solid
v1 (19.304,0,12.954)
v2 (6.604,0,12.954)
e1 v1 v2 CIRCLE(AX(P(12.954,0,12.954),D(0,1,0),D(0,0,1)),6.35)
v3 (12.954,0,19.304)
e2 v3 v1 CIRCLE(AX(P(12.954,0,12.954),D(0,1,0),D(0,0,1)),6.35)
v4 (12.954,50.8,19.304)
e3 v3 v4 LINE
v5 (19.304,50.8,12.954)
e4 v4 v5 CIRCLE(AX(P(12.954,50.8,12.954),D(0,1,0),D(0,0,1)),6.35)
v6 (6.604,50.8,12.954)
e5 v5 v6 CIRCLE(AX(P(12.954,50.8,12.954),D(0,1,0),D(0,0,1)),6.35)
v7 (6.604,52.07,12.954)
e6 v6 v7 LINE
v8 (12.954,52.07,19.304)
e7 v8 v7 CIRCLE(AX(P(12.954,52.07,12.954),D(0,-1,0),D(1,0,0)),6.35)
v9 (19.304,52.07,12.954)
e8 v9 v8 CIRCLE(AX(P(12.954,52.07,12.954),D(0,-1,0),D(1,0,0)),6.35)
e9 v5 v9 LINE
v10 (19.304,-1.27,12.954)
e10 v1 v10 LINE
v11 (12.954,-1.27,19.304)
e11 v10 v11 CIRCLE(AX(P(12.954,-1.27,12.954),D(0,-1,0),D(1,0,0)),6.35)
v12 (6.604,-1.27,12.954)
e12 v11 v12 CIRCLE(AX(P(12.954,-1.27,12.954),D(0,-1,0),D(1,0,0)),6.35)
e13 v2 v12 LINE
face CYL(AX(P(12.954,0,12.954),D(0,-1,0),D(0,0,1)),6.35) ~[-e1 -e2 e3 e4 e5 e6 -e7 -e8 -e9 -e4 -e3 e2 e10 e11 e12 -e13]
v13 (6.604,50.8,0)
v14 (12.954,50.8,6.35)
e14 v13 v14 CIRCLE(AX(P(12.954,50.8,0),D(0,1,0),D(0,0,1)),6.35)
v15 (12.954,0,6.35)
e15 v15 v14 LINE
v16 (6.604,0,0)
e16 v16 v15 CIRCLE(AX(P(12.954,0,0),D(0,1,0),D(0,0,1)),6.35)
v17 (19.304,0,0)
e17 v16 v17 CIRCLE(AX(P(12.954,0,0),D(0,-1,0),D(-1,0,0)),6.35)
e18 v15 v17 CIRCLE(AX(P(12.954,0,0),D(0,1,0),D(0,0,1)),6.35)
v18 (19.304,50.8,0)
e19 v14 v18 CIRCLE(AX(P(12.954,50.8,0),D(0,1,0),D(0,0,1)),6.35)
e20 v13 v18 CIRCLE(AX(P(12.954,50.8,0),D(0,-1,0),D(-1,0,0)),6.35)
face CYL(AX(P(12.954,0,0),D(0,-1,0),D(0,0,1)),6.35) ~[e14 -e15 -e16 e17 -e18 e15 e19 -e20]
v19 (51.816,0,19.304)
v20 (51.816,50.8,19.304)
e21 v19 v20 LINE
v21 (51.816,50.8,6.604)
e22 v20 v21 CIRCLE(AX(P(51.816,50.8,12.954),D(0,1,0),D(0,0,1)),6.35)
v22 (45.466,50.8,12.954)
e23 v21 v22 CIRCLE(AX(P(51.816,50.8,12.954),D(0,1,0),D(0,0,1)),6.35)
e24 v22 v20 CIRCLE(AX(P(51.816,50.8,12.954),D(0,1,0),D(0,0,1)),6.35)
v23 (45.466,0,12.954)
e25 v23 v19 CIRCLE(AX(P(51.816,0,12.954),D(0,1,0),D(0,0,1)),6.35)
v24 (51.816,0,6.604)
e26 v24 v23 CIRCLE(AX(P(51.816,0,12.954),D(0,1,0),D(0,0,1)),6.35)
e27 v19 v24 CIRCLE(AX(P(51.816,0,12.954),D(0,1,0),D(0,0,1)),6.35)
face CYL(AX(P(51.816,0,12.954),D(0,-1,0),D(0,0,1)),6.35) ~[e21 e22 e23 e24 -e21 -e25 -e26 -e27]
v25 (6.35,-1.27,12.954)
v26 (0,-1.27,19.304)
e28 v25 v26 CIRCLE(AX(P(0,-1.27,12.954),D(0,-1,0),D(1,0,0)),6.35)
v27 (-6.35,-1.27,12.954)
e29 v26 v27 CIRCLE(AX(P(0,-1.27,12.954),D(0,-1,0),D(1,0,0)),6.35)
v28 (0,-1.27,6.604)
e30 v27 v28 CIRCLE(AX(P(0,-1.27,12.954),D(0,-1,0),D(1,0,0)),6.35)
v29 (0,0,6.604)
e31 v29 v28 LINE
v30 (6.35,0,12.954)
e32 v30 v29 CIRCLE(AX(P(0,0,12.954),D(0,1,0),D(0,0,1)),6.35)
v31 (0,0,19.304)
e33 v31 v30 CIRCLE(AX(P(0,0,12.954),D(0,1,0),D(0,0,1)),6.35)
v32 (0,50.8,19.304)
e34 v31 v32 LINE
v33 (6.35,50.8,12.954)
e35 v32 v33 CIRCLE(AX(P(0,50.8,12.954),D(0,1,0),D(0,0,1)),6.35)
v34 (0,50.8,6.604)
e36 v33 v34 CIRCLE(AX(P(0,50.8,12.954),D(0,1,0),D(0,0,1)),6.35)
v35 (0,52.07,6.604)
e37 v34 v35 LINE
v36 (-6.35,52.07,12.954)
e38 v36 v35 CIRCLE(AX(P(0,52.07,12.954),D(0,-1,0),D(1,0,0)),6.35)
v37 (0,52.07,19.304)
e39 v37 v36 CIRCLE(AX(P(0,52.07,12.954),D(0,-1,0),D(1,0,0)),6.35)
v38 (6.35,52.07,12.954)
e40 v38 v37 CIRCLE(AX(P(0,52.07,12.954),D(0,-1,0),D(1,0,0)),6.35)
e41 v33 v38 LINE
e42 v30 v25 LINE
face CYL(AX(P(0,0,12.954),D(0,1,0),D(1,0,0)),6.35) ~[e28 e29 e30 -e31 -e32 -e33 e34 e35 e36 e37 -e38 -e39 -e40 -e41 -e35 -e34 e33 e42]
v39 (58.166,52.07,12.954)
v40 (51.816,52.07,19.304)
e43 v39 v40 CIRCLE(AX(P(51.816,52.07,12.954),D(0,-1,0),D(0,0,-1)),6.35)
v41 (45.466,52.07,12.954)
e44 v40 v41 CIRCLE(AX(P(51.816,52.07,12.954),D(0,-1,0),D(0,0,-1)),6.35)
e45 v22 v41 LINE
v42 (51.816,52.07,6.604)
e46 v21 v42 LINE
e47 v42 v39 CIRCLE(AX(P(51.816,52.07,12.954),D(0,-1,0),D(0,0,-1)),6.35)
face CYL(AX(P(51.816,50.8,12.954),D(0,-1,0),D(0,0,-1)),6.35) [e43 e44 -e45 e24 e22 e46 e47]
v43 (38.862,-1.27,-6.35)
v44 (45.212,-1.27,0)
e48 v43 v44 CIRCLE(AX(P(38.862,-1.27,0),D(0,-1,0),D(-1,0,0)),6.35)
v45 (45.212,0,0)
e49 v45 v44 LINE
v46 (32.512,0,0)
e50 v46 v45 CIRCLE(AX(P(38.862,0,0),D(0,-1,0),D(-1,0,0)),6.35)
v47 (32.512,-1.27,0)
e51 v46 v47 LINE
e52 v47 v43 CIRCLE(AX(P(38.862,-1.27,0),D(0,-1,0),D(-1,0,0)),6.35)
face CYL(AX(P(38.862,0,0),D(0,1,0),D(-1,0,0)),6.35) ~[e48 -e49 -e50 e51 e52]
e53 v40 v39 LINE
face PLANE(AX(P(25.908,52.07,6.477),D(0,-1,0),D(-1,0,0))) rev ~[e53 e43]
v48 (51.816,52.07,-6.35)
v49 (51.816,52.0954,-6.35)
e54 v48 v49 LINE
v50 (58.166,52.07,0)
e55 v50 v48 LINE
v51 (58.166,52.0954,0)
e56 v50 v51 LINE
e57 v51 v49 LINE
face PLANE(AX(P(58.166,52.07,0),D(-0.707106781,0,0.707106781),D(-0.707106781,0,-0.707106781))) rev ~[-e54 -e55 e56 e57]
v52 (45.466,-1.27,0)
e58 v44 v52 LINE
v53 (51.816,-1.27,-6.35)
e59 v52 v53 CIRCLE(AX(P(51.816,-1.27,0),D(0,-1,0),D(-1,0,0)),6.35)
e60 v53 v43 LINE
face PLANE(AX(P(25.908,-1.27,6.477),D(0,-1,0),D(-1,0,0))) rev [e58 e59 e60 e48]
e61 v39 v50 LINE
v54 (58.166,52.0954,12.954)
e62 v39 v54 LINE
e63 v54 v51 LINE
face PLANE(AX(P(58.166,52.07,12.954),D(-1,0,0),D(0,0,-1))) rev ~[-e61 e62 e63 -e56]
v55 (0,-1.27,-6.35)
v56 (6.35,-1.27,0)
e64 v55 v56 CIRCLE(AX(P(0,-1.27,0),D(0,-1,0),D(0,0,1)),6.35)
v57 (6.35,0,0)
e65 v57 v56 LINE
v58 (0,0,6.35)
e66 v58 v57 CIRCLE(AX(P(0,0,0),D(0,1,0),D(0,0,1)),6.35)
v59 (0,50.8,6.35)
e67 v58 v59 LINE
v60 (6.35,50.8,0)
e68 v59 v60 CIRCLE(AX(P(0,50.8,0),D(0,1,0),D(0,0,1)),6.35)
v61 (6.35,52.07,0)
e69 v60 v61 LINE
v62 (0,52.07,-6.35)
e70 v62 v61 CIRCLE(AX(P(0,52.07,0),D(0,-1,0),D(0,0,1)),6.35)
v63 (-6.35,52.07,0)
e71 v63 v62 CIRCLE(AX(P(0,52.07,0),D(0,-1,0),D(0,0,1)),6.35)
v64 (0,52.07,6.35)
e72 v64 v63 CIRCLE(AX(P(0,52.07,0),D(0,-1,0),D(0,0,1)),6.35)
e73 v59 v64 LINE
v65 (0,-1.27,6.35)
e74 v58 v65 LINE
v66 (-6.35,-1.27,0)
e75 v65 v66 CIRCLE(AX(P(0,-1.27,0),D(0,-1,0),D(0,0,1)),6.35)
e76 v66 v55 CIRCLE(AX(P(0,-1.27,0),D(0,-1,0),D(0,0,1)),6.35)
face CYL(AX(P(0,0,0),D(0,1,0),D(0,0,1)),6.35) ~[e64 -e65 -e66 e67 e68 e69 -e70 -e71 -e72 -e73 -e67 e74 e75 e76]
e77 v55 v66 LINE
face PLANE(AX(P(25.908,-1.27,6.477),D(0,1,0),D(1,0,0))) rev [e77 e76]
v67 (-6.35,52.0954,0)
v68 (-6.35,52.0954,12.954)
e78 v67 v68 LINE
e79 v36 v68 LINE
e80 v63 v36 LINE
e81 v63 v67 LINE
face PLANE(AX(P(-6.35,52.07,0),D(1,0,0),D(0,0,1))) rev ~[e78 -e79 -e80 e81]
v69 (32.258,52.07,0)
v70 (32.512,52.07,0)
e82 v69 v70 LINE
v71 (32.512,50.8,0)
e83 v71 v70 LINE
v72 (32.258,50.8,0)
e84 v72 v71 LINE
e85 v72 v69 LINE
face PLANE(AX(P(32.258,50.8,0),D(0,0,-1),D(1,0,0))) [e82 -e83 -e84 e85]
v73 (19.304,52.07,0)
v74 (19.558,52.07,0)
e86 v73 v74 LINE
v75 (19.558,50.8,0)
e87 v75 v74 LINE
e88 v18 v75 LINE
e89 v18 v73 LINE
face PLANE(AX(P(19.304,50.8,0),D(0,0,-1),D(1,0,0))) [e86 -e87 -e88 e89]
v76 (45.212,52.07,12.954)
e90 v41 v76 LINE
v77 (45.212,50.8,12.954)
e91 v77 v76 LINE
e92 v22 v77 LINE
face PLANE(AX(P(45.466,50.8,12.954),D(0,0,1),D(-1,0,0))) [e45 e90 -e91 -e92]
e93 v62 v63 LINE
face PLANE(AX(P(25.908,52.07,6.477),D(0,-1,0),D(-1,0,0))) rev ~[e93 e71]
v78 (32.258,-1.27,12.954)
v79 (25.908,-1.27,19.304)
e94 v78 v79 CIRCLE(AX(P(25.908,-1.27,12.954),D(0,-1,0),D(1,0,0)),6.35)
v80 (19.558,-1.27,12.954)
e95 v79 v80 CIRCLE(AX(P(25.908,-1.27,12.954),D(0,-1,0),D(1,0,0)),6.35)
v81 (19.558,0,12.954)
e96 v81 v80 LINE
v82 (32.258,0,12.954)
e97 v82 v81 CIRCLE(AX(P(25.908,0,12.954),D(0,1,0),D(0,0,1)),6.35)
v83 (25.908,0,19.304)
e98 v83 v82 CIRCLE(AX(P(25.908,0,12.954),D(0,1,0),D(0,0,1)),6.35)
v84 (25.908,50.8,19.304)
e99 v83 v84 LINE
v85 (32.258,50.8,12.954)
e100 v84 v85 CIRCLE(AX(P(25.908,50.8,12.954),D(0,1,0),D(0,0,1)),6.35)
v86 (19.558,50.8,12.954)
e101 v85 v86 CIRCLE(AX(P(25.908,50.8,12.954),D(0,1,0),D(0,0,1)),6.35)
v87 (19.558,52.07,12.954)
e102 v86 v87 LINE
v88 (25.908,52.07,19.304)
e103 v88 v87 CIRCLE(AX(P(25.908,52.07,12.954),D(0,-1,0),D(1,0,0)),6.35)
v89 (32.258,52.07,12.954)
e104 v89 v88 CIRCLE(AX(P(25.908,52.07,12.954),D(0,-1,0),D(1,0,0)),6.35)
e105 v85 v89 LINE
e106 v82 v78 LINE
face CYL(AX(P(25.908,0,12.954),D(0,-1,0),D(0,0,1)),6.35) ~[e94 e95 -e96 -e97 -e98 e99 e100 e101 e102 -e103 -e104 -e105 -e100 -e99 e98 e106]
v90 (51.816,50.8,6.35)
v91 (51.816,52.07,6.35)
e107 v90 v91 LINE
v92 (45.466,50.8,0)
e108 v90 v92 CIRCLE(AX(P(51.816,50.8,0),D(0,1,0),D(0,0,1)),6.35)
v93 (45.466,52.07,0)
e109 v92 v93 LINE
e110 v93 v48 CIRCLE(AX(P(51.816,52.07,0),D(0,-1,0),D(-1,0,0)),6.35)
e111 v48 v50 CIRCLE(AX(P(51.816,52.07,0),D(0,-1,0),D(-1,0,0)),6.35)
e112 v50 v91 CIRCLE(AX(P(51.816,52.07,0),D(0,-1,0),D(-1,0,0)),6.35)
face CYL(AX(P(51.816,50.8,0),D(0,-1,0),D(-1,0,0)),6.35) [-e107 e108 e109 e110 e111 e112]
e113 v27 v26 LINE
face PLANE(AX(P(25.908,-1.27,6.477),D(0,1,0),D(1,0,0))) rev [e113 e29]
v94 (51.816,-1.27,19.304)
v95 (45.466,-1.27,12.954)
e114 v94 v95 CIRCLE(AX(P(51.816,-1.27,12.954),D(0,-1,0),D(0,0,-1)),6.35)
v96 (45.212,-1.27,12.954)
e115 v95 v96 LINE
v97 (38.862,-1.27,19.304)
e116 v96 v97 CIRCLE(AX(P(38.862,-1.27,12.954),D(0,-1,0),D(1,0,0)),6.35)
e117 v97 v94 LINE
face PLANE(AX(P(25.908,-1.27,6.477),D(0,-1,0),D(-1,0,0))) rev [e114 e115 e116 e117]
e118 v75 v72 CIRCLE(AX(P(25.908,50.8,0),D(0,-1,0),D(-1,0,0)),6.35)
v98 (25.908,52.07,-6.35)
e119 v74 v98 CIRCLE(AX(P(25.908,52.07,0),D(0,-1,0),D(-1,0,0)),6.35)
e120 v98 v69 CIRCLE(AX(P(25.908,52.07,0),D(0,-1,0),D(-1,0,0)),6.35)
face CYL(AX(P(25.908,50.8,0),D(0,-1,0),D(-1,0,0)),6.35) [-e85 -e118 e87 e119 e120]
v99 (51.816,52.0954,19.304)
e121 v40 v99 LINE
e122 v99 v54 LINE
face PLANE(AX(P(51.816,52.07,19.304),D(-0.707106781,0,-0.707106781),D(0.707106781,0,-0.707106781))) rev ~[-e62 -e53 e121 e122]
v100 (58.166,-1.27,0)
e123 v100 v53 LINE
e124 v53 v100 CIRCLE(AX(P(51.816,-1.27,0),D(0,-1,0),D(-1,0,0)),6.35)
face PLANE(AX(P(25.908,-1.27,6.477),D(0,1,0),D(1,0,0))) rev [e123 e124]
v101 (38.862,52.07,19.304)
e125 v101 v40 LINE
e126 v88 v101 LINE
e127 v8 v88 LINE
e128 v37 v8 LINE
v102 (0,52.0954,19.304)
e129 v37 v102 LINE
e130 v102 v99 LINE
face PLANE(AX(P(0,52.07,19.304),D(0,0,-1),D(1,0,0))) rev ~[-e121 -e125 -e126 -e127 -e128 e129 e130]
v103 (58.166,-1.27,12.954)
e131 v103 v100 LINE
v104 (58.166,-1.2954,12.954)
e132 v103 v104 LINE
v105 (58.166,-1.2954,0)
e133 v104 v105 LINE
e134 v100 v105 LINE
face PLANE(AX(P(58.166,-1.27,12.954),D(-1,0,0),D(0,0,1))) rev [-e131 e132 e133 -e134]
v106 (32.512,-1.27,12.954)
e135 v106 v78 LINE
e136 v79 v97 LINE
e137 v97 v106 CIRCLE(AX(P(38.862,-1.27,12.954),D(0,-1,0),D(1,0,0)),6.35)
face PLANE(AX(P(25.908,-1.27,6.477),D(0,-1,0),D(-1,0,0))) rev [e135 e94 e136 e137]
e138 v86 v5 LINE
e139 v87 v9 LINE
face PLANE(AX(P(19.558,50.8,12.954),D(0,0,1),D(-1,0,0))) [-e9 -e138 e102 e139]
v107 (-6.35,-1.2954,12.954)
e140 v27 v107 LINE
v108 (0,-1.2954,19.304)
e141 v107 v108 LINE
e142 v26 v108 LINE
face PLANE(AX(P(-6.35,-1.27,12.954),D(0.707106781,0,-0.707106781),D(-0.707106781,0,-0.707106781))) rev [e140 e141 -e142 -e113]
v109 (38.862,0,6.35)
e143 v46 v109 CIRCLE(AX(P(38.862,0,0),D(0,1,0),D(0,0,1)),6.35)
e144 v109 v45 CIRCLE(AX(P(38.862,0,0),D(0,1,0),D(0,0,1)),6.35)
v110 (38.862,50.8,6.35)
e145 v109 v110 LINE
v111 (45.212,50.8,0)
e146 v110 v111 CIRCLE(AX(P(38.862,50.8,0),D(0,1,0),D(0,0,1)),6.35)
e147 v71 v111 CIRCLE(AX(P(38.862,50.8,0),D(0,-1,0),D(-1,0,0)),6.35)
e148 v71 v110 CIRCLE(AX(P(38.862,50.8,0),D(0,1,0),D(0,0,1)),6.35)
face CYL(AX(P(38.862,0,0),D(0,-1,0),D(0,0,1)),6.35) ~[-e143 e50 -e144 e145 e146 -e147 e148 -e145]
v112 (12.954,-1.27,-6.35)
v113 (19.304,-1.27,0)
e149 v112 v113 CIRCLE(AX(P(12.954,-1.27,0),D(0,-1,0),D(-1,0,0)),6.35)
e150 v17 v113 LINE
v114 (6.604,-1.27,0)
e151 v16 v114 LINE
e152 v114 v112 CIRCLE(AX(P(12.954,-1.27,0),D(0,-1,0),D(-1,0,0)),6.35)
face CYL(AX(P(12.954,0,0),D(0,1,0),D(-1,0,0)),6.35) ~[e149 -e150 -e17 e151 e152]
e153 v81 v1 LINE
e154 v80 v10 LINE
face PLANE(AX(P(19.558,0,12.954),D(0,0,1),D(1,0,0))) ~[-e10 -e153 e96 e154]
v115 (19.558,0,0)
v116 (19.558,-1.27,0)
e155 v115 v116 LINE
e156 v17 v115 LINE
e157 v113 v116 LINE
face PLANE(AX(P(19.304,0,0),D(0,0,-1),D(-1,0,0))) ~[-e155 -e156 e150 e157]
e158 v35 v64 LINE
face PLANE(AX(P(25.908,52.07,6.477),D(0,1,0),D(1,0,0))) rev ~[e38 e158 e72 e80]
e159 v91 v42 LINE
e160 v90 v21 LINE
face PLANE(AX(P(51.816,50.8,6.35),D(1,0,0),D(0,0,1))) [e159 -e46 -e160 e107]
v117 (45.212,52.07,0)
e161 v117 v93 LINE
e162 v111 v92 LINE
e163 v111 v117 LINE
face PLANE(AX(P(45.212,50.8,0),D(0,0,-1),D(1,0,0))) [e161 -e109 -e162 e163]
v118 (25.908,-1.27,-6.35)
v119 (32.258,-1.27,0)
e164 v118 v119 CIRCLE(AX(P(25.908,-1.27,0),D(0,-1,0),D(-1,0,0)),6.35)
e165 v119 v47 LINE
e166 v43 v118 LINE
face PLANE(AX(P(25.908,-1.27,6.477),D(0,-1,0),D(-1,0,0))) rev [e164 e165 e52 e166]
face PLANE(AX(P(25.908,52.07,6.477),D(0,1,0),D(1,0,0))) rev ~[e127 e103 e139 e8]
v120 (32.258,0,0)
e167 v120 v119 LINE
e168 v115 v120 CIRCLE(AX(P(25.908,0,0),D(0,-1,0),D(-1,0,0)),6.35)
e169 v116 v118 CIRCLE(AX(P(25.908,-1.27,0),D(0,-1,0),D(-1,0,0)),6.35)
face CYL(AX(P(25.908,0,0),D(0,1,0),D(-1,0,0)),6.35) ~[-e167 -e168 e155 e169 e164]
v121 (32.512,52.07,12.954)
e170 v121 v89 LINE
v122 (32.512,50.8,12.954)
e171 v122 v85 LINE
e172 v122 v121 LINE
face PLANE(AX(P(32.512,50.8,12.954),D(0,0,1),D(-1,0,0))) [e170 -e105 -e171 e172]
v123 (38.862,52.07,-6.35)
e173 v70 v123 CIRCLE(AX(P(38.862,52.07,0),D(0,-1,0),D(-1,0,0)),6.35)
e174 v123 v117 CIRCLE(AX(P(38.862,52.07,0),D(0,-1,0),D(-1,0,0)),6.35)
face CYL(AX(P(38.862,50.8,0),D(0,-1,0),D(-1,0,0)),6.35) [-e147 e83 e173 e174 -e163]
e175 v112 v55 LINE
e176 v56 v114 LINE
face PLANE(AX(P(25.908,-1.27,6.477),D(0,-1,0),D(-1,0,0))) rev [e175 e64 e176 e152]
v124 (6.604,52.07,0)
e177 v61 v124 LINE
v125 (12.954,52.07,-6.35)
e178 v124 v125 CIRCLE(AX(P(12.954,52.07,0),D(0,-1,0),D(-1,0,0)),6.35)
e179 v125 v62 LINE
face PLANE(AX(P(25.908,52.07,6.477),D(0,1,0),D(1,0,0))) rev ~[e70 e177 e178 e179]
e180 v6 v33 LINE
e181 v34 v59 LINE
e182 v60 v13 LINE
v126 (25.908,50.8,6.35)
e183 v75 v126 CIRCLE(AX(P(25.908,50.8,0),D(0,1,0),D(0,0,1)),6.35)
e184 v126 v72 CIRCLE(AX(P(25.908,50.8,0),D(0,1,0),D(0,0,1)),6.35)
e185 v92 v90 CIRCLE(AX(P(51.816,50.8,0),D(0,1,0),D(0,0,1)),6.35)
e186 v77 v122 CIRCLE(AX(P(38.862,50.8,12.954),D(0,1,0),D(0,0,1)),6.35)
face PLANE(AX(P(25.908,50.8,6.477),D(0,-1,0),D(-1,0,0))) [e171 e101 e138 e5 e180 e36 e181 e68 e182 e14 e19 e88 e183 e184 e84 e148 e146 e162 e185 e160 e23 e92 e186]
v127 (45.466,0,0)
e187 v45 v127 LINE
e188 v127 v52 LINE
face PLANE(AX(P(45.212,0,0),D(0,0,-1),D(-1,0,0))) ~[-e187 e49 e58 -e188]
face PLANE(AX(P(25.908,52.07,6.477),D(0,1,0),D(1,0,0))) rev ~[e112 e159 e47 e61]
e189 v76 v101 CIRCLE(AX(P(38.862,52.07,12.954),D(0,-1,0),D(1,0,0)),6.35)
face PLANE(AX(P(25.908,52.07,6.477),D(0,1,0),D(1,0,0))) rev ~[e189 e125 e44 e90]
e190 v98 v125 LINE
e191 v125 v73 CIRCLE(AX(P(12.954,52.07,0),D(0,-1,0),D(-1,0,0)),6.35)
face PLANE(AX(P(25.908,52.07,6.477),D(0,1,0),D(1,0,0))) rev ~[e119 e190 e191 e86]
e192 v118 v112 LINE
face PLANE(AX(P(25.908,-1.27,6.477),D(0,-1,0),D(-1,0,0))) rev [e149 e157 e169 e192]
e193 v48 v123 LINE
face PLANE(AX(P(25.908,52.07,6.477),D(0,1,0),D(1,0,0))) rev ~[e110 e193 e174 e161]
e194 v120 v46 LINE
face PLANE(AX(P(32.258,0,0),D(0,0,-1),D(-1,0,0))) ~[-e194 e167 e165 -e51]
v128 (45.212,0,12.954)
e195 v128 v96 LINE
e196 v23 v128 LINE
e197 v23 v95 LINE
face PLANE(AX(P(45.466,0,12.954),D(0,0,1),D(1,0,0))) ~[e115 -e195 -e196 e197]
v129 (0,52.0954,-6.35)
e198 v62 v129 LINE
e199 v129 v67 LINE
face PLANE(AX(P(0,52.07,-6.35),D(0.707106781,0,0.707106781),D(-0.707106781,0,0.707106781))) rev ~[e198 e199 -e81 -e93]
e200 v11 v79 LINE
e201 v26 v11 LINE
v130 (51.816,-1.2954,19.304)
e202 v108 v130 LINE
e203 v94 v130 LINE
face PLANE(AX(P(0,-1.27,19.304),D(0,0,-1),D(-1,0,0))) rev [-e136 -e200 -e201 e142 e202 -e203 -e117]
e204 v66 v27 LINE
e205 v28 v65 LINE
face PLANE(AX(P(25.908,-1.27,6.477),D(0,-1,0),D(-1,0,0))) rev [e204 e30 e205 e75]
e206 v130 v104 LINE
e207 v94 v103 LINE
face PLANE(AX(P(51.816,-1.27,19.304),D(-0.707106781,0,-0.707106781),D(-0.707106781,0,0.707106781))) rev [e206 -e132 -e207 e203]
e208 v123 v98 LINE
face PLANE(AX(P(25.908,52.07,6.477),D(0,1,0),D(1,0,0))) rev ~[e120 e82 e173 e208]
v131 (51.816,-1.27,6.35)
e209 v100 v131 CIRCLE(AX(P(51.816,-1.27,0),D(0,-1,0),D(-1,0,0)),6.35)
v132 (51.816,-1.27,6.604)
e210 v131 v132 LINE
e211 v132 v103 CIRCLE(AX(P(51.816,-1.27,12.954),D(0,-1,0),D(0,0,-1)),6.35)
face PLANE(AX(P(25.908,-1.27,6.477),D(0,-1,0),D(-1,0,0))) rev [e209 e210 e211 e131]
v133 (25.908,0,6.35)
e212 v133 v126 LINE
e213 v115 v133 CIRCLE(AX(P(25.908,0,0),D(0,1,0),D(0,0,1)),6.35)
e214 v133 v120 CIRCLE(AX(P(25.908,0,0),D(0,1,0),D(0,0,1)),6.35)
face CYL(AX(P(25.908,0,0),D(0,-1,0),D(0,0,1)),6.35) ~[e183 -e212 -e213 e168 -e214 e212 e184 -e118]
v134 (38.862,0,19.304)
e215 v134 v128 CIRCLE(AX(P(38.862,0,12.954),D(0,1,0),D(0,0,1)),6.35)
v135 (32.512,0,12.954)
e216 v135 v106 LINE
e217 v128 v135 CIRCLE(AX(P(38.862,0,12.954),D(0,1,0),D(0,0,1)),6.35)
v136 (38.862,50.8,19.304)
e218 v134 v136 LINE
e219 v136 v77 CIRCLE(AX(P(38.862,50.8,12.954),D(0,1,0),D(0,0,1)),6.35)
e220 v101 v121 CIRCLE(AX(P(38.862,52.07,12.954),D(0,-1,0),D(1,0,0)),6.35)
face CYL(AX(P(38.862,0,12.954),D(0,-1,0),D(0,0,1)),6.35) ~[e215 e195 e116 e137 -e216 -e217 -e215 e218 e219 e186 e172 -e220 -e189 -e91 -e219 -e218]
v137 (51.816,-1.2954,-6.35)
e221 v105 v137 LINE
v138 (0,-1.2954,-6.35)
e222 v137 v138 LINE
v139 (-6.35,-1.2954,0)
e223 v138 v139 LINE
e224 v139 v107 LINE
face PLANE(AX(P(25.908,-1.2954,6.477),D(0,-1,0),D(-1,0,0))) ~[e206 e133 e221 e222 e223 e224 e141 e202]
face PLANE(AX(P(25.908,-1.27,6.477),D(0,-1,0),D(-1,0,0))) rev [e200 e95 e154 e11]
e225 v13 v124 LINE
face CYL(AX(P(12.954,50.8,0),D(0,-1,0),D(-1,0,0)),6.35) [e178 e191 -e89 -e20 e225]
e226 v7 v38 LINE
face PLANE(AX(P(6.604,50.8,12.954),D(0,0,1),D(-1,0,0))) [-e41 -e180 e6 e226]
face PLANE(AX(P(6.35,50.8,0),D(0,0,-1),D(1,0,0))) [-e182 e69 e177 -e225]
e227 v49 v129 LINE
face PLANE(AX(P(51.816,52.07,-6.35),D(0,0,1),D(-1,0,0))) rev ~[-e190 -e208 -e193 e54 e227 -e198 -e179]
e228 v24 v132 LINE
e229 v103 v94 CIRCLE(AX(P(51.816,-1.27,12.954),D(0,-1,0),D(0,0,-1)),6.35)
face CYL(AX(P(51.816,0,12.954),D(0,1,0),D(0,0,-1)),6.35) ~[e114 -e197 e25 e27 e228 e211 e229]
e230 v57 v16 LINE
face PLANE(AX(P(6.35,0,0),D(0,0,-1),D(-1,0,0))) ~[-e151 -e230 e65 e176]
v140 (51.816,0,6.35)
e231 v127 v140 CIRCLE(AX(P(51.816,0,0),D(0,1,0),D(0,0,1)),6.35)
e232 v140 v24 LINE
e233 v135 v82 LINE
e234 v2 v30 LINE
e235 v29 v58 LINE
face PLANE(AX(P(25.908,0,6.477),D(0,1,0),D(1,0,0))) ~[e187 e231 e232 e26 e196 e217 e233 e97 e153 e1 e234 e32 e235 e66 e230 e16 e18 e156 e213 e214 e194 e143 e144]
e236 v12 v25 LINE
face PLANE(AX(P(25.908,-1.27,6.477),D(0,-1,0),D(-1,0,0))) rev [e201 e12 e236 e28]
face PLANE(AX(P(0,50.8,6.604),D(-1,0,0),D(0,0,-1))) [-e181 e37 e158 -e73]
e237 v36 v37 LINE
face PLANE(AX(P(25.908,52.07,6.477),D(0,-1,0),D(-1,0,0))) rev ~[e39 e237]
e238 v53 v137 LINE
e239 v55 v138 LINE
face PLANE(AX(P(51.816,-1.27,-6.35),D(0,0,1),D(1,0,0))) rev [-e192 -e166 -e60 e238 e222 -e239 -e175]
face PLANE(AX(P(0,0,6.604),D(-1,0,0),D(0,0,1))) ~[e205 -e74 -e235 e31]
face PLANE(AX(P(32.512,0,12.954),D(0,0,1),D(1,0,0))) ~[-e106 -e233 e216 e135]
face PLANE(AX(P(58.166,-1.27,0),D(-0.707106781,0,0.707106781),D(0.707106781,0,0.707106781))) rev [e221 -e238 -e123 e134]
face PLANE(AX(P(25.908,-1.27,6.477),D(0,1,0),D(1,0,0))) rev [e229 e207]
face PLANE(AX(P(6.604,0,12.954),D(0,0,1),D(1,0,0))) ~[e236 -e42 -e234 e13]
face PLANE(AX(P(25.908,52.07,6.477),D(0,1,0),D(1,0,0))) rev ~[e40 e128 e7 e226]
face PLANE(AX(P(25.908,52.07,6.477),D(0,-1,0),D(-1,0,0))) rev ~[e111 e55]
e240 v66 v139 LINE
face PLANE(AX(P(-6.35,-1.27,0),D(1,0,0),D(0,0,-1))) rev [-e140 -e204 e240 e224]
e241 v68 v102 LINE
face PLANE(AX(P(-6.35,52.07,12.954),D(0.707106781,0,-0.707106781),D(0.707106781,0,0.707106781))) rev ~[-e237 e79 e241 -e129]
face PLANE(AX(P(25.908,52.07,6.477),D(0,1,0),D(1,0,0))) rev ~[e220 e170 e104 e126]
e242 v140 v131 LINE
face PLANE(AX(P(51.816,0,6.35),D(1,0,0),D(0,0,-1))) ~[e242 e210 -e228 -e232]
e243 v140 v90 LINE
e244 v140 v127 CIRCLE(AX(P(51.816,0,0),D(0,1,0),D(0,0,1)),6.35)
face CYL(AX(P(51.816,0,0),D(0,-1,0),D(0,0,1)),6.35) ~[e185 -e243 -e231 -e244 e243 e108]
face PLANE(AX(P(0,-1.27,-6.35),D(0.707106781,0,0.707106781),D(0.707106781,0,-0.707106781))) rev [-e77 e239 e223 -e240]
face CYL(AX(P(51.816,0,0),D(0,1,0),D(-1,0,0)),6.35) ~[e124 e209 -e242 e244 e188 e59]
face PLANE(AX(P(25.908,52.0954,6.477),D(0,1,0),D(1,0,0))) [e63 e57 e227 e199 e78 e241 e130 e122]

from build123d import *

# Parameters (mm, degrees)
SKETCH1_R              = 6.35
BOSS_EXTRUDE1_DEPTH    = 50.8
SKETCH1_R_2            = 6.349999999999999
BOSS_EXTRUDE1_2_DEPTH  = 50.8
SKETCH1_R_3            = 6.350000000000002
BOSS_EXTRUDE1_3_DEPTH  = 50.8
BOSS_EXTRUDE1_4_DEPTH  = 50.8
BOSS_EXTRUDE1_5_DEPTH  = 50.8
BOSS_EXTRUDE1_6_DEPTH  = 50.8
BOSS_EXTRUDE1_7_DEPTH  = 50.8
SKETCH1_R_4            = 6.350000000000003
BOSS_EXTRUDE1_8_DEPTH  = 50.8
BOSS_EXTRUDE1_9_DEPTH  = 50.8
SKETCH1_R_5            = 6.3500000000000005
BOSS_EXTRUDE1_10_DEPTH = 50.8
BOSS_EXTRUDE2_DEPTH    = 1.27
BOSS_EXTRUDE3_DEPTH    = 0.0254


with BuildPart() as part:
    # Sketch1 → Boss-Extrude1 (new body)
    with BuildSketch(Plane(origin=(0, 0, 0), x_dir=(1, 0, 0), z_dir=(0, 1, 0))):
        with Locations(Location((0, 0, 0), (0, 0, 270))):
            Circle(SKETCH1_R)
    extrude(amount=BOSS_EXTRUDE1_DEPTH)



with BuildPart() as body_2:
    # Sketch1 → Boss-Extrude1 2 (new body)
    with BuildSketch(Plane(origin=(0, 0, 0), x_dir=(1, 0, 0), z_dir=(0, 1, 0))):
        with Locations(Location((12.954, 0, 0), (0, 0, 270))):
            Circle(SKETCH1_R_2)
    extrude(amount=BOSS_EXTRUDE1_2_DEPTH)


with BuildPart() as body_3:
    # Sketch1 → Boss-Extrude1 3 (new body)
    with BuildSketch(Plane(origin=(0, 0, 0), x_dir=(1, 0, 0), z_dir=(0, 1, 0))):
        with Locations(Location((25.908, 0, 0), (0, 0, 270))):
            Circle(SKETCH1_R_3)
    extrude(amount=BOSS_EXTRUDE1_3_DEPTH)


with BuildPart() as body_4:
    # Sketch1 → Boss-Extrude1 4 (new body)
    with BuildSketch(Plane(origin=(0, 0, 0), x_dir=(1, 0, 0), z_dir=(0, 1, 0))):
        with Locations(Location((38.862, 0, 0), (0, 0, 270))):
            Circle(SKETCH1_R_3)
    extrude(amount=BOSS_EXTRUDE1_4_DEPTH)


with BuildPart() as body_5:
    # Sketch1 → Boss-Extrude1 5 (new body)
    with BuildSketch(Plane(origin=(0, 0, 0), x_dir=(1, 0, 0), z_dir=(0, 1, 0))):
        with Locations(Location((51.816, 0, 0), (0, 0, 270))):
            Circle(SKETCH1_R_3)
    extrude(amount=BOSS_EXTRUDE1_5_DEPTH)


with BuildPart() as body_6:
    # Sketch1 → Boss-Extrude1 6 (new body)
    with BuildSketch(Plane(origin=(0, 0, 0), x_dir=(1, 0, 0), z_dir=(0, 1, 0))):
        with Locations(Location((12.954000000000136, -12.954, 0), (0, 0, 270))):
            Circle(SKETCH1_R)
    extrude(amount=BOSS_EXTRUDE1_6_DEPTH)


with BuildPart() as body_7:
    # Sketch1 → Boss-Extrude1 7 (new body)
    with BuildSketch(Plane(origin=(0, 0, 0), x_dir=(1, 0, 0), z_dir=(0, 1, 0))):
        with Locations(Location((25.908000000000136, -12.954, 0), (0, 0, 270))):
            Circle(SKETCH1_R)
    extrude(amount=BOSS_EXTRUDE1_7_DEPTH)


with BuildPart() as body_8:
    # Sketch1 → Boss-Extrude1 8 (new body)
    with BuildSketch(Plane(origin=(0, 0, 0), x_dir=(1, 0, 0), z_dir=(0, 1, 0))):
        with Locations(Location((38.86200000000014, -12.954, 0), (0, 0, 270))):
            Circle(SKETCH1_R_4)
    extrude(amount=BOSS_EXTRUDE1_8_DEPTH)


with BuildPart() as body_9:
    # Sketch1 → Boss-Extrude1 9 (new body)
    with BuildSketch(Plane(origin=(0, 0, 0), x_dir=(1, 0, 0), z_dir=(0, 1, 0))):
        with Locations(Location((51.81600000000014, -12.954, 0), (0, 0, 270))):
            Circle(SKETCH1_R_4)
    extrude(amount=BOSS_EXTRUDE1_9_DEPTH)


with BuildPart() as body_10:
    # Sketch1 → Boss-Extrude1 10 (new body)
    with BuildSketch(Plane(origin=(0, 0, 0), x_dir=(1, 0, 0), z_dir=(0, 1, 0))):
        with Locations(Location((1.3569e-13, -12.954, 0), (0, 0, 270))):
            Circle(SKETCH1_R_5)
    extrude(amount=BOSS_EXTRUDE1_10_DEPTH)


with BuildPart() as part_1:
    add(part.part)

    add(body_2.part)  # Boss-Extrude2 merges body 2

    add(body_3.part)  # Boss-Extrude2 merges body 3

    add(body_4.part)  # Boss-Extrude2 merges body 4

    add(body_5.part)  # Boss-Extrude2 merges body 5

    add(body_6.part)  # Boss-Extrude2 merges body 6

    add(body_7.part)  # Boss-Extrude2 merges body 7

    add(body_8.part)  # Boss-Extrude2 merges body 8

    add(body_9.part)  # Boss-Extrude2 merges body 9

    add(body_10.part)  # Boss-Extrude2 merges body 10
    # Sketch4 → Boss-Extrude2 (add)
    with BuildSketch(Plane(origin=(0, 50.8, 0), x_dir=(1, 0, 0), z_dir=(0, 1, 0))):
        with BuildLine():
            Line((1.3569e-13, -6.604), (0, -6.35))
            ThreePointArc((0, -6.35), (-4.490128060534576, 4.490128060534577), (6.35, 0))
            Line((6.35, 0), (6.603999999999998, 0))
            ThreePointArc((6.603999999999998, 0), (12.954, 6.350000000000001), (19.304000000000002, 0))
            Line((19.304000000000002, 0), (19.558, 0))
            ThreePointArc((19.558, 0), (25.908, 6.350000000000001), (32.258, 0))
            Line((32.258, 0), (32.512, 0))
            ThreePointArc((32.512, 0), (38.862, 6.350000000000001), (45.212, 0))
            Line((45.212, 0), (45.466, 0))
            ThreePointArc((45.466, 0), (56.30612806053458, 4.490128060534578), (51.816, -6.350000000000002))
            Line((51.816, -6.350000000000002), (51.81600000000014, -6.603999999999998))
            ThreePointArc((51.81600000000014, -6.603999999999998), (56.30612806053472, -17.44412806053458), (45.466000000000136, -12.954))
            Line((45.466000000000136, -12.954), (45.21200000000014, -12.954))
            ThreePointArc((45.21200000000014, -12.954), (38.86200000000014, -19.304000000000002), (32.512000000000135, -12.954))
            Line((32.512000000000135, -12.954), (32.25800000000013, -12.954))
            ThreePointArc((32.25800000000013, -12.954), (25.908000000000136, -19.304), (19.55800000000014, -12.954))
            Line((19.55800000000014, -12.954), (19.304000000000133, -12.954))
            ThreePointArc((19.304000000000133, -12.954), (12.954000000000134, -19.304), (6.604000000000137, -12.954))
            Line((6.604000000000137, -12.954), (6.350000000000135, -12.954))
            ThreePointArc((6.350000000000135, -12.954), (-4.490128060534443, -17.444128060534577), (1.3569e-13, -6.604))
        make_face()
    boss_extrude2 = extrude(amount=BOSS_EXTRUDE2_DEPTH)

    # Mirror1: Boss-Extrude2 across plane
    add(boss_extrude2.mirror(Plane.ZX.offset(25.4)))

    # Sketch5 → Boss-Extrude3 (add)
    with BuildSketch(Plane(origin=(0, 52.07, 0), x_dir=(1, 0, 0), z_dir=(0, 1, 0))):
        Polygon((51.81599999999998, 6.350000000000001), (-2.602e-14, 6.349999999999999), (-6.35, -4.434e-14), (-6.349999999999865, -12.954000000000045), (2.5457e-13, -19.304000000000002), (51.81600000000021, -19.304000000000002), (58.16600000000014, -12.95399999999983), (58.166000000000004, 0), align=None)
    boss_extrude3 = extrude(amount=BOSS_EXTRUDE3_DEPTH)

    # Mirror2: Boss-Extrude3 across plane
    add(boss_extrude3.mirror(Plane.ZX.offset(25.4)))


solid = part_1.part
